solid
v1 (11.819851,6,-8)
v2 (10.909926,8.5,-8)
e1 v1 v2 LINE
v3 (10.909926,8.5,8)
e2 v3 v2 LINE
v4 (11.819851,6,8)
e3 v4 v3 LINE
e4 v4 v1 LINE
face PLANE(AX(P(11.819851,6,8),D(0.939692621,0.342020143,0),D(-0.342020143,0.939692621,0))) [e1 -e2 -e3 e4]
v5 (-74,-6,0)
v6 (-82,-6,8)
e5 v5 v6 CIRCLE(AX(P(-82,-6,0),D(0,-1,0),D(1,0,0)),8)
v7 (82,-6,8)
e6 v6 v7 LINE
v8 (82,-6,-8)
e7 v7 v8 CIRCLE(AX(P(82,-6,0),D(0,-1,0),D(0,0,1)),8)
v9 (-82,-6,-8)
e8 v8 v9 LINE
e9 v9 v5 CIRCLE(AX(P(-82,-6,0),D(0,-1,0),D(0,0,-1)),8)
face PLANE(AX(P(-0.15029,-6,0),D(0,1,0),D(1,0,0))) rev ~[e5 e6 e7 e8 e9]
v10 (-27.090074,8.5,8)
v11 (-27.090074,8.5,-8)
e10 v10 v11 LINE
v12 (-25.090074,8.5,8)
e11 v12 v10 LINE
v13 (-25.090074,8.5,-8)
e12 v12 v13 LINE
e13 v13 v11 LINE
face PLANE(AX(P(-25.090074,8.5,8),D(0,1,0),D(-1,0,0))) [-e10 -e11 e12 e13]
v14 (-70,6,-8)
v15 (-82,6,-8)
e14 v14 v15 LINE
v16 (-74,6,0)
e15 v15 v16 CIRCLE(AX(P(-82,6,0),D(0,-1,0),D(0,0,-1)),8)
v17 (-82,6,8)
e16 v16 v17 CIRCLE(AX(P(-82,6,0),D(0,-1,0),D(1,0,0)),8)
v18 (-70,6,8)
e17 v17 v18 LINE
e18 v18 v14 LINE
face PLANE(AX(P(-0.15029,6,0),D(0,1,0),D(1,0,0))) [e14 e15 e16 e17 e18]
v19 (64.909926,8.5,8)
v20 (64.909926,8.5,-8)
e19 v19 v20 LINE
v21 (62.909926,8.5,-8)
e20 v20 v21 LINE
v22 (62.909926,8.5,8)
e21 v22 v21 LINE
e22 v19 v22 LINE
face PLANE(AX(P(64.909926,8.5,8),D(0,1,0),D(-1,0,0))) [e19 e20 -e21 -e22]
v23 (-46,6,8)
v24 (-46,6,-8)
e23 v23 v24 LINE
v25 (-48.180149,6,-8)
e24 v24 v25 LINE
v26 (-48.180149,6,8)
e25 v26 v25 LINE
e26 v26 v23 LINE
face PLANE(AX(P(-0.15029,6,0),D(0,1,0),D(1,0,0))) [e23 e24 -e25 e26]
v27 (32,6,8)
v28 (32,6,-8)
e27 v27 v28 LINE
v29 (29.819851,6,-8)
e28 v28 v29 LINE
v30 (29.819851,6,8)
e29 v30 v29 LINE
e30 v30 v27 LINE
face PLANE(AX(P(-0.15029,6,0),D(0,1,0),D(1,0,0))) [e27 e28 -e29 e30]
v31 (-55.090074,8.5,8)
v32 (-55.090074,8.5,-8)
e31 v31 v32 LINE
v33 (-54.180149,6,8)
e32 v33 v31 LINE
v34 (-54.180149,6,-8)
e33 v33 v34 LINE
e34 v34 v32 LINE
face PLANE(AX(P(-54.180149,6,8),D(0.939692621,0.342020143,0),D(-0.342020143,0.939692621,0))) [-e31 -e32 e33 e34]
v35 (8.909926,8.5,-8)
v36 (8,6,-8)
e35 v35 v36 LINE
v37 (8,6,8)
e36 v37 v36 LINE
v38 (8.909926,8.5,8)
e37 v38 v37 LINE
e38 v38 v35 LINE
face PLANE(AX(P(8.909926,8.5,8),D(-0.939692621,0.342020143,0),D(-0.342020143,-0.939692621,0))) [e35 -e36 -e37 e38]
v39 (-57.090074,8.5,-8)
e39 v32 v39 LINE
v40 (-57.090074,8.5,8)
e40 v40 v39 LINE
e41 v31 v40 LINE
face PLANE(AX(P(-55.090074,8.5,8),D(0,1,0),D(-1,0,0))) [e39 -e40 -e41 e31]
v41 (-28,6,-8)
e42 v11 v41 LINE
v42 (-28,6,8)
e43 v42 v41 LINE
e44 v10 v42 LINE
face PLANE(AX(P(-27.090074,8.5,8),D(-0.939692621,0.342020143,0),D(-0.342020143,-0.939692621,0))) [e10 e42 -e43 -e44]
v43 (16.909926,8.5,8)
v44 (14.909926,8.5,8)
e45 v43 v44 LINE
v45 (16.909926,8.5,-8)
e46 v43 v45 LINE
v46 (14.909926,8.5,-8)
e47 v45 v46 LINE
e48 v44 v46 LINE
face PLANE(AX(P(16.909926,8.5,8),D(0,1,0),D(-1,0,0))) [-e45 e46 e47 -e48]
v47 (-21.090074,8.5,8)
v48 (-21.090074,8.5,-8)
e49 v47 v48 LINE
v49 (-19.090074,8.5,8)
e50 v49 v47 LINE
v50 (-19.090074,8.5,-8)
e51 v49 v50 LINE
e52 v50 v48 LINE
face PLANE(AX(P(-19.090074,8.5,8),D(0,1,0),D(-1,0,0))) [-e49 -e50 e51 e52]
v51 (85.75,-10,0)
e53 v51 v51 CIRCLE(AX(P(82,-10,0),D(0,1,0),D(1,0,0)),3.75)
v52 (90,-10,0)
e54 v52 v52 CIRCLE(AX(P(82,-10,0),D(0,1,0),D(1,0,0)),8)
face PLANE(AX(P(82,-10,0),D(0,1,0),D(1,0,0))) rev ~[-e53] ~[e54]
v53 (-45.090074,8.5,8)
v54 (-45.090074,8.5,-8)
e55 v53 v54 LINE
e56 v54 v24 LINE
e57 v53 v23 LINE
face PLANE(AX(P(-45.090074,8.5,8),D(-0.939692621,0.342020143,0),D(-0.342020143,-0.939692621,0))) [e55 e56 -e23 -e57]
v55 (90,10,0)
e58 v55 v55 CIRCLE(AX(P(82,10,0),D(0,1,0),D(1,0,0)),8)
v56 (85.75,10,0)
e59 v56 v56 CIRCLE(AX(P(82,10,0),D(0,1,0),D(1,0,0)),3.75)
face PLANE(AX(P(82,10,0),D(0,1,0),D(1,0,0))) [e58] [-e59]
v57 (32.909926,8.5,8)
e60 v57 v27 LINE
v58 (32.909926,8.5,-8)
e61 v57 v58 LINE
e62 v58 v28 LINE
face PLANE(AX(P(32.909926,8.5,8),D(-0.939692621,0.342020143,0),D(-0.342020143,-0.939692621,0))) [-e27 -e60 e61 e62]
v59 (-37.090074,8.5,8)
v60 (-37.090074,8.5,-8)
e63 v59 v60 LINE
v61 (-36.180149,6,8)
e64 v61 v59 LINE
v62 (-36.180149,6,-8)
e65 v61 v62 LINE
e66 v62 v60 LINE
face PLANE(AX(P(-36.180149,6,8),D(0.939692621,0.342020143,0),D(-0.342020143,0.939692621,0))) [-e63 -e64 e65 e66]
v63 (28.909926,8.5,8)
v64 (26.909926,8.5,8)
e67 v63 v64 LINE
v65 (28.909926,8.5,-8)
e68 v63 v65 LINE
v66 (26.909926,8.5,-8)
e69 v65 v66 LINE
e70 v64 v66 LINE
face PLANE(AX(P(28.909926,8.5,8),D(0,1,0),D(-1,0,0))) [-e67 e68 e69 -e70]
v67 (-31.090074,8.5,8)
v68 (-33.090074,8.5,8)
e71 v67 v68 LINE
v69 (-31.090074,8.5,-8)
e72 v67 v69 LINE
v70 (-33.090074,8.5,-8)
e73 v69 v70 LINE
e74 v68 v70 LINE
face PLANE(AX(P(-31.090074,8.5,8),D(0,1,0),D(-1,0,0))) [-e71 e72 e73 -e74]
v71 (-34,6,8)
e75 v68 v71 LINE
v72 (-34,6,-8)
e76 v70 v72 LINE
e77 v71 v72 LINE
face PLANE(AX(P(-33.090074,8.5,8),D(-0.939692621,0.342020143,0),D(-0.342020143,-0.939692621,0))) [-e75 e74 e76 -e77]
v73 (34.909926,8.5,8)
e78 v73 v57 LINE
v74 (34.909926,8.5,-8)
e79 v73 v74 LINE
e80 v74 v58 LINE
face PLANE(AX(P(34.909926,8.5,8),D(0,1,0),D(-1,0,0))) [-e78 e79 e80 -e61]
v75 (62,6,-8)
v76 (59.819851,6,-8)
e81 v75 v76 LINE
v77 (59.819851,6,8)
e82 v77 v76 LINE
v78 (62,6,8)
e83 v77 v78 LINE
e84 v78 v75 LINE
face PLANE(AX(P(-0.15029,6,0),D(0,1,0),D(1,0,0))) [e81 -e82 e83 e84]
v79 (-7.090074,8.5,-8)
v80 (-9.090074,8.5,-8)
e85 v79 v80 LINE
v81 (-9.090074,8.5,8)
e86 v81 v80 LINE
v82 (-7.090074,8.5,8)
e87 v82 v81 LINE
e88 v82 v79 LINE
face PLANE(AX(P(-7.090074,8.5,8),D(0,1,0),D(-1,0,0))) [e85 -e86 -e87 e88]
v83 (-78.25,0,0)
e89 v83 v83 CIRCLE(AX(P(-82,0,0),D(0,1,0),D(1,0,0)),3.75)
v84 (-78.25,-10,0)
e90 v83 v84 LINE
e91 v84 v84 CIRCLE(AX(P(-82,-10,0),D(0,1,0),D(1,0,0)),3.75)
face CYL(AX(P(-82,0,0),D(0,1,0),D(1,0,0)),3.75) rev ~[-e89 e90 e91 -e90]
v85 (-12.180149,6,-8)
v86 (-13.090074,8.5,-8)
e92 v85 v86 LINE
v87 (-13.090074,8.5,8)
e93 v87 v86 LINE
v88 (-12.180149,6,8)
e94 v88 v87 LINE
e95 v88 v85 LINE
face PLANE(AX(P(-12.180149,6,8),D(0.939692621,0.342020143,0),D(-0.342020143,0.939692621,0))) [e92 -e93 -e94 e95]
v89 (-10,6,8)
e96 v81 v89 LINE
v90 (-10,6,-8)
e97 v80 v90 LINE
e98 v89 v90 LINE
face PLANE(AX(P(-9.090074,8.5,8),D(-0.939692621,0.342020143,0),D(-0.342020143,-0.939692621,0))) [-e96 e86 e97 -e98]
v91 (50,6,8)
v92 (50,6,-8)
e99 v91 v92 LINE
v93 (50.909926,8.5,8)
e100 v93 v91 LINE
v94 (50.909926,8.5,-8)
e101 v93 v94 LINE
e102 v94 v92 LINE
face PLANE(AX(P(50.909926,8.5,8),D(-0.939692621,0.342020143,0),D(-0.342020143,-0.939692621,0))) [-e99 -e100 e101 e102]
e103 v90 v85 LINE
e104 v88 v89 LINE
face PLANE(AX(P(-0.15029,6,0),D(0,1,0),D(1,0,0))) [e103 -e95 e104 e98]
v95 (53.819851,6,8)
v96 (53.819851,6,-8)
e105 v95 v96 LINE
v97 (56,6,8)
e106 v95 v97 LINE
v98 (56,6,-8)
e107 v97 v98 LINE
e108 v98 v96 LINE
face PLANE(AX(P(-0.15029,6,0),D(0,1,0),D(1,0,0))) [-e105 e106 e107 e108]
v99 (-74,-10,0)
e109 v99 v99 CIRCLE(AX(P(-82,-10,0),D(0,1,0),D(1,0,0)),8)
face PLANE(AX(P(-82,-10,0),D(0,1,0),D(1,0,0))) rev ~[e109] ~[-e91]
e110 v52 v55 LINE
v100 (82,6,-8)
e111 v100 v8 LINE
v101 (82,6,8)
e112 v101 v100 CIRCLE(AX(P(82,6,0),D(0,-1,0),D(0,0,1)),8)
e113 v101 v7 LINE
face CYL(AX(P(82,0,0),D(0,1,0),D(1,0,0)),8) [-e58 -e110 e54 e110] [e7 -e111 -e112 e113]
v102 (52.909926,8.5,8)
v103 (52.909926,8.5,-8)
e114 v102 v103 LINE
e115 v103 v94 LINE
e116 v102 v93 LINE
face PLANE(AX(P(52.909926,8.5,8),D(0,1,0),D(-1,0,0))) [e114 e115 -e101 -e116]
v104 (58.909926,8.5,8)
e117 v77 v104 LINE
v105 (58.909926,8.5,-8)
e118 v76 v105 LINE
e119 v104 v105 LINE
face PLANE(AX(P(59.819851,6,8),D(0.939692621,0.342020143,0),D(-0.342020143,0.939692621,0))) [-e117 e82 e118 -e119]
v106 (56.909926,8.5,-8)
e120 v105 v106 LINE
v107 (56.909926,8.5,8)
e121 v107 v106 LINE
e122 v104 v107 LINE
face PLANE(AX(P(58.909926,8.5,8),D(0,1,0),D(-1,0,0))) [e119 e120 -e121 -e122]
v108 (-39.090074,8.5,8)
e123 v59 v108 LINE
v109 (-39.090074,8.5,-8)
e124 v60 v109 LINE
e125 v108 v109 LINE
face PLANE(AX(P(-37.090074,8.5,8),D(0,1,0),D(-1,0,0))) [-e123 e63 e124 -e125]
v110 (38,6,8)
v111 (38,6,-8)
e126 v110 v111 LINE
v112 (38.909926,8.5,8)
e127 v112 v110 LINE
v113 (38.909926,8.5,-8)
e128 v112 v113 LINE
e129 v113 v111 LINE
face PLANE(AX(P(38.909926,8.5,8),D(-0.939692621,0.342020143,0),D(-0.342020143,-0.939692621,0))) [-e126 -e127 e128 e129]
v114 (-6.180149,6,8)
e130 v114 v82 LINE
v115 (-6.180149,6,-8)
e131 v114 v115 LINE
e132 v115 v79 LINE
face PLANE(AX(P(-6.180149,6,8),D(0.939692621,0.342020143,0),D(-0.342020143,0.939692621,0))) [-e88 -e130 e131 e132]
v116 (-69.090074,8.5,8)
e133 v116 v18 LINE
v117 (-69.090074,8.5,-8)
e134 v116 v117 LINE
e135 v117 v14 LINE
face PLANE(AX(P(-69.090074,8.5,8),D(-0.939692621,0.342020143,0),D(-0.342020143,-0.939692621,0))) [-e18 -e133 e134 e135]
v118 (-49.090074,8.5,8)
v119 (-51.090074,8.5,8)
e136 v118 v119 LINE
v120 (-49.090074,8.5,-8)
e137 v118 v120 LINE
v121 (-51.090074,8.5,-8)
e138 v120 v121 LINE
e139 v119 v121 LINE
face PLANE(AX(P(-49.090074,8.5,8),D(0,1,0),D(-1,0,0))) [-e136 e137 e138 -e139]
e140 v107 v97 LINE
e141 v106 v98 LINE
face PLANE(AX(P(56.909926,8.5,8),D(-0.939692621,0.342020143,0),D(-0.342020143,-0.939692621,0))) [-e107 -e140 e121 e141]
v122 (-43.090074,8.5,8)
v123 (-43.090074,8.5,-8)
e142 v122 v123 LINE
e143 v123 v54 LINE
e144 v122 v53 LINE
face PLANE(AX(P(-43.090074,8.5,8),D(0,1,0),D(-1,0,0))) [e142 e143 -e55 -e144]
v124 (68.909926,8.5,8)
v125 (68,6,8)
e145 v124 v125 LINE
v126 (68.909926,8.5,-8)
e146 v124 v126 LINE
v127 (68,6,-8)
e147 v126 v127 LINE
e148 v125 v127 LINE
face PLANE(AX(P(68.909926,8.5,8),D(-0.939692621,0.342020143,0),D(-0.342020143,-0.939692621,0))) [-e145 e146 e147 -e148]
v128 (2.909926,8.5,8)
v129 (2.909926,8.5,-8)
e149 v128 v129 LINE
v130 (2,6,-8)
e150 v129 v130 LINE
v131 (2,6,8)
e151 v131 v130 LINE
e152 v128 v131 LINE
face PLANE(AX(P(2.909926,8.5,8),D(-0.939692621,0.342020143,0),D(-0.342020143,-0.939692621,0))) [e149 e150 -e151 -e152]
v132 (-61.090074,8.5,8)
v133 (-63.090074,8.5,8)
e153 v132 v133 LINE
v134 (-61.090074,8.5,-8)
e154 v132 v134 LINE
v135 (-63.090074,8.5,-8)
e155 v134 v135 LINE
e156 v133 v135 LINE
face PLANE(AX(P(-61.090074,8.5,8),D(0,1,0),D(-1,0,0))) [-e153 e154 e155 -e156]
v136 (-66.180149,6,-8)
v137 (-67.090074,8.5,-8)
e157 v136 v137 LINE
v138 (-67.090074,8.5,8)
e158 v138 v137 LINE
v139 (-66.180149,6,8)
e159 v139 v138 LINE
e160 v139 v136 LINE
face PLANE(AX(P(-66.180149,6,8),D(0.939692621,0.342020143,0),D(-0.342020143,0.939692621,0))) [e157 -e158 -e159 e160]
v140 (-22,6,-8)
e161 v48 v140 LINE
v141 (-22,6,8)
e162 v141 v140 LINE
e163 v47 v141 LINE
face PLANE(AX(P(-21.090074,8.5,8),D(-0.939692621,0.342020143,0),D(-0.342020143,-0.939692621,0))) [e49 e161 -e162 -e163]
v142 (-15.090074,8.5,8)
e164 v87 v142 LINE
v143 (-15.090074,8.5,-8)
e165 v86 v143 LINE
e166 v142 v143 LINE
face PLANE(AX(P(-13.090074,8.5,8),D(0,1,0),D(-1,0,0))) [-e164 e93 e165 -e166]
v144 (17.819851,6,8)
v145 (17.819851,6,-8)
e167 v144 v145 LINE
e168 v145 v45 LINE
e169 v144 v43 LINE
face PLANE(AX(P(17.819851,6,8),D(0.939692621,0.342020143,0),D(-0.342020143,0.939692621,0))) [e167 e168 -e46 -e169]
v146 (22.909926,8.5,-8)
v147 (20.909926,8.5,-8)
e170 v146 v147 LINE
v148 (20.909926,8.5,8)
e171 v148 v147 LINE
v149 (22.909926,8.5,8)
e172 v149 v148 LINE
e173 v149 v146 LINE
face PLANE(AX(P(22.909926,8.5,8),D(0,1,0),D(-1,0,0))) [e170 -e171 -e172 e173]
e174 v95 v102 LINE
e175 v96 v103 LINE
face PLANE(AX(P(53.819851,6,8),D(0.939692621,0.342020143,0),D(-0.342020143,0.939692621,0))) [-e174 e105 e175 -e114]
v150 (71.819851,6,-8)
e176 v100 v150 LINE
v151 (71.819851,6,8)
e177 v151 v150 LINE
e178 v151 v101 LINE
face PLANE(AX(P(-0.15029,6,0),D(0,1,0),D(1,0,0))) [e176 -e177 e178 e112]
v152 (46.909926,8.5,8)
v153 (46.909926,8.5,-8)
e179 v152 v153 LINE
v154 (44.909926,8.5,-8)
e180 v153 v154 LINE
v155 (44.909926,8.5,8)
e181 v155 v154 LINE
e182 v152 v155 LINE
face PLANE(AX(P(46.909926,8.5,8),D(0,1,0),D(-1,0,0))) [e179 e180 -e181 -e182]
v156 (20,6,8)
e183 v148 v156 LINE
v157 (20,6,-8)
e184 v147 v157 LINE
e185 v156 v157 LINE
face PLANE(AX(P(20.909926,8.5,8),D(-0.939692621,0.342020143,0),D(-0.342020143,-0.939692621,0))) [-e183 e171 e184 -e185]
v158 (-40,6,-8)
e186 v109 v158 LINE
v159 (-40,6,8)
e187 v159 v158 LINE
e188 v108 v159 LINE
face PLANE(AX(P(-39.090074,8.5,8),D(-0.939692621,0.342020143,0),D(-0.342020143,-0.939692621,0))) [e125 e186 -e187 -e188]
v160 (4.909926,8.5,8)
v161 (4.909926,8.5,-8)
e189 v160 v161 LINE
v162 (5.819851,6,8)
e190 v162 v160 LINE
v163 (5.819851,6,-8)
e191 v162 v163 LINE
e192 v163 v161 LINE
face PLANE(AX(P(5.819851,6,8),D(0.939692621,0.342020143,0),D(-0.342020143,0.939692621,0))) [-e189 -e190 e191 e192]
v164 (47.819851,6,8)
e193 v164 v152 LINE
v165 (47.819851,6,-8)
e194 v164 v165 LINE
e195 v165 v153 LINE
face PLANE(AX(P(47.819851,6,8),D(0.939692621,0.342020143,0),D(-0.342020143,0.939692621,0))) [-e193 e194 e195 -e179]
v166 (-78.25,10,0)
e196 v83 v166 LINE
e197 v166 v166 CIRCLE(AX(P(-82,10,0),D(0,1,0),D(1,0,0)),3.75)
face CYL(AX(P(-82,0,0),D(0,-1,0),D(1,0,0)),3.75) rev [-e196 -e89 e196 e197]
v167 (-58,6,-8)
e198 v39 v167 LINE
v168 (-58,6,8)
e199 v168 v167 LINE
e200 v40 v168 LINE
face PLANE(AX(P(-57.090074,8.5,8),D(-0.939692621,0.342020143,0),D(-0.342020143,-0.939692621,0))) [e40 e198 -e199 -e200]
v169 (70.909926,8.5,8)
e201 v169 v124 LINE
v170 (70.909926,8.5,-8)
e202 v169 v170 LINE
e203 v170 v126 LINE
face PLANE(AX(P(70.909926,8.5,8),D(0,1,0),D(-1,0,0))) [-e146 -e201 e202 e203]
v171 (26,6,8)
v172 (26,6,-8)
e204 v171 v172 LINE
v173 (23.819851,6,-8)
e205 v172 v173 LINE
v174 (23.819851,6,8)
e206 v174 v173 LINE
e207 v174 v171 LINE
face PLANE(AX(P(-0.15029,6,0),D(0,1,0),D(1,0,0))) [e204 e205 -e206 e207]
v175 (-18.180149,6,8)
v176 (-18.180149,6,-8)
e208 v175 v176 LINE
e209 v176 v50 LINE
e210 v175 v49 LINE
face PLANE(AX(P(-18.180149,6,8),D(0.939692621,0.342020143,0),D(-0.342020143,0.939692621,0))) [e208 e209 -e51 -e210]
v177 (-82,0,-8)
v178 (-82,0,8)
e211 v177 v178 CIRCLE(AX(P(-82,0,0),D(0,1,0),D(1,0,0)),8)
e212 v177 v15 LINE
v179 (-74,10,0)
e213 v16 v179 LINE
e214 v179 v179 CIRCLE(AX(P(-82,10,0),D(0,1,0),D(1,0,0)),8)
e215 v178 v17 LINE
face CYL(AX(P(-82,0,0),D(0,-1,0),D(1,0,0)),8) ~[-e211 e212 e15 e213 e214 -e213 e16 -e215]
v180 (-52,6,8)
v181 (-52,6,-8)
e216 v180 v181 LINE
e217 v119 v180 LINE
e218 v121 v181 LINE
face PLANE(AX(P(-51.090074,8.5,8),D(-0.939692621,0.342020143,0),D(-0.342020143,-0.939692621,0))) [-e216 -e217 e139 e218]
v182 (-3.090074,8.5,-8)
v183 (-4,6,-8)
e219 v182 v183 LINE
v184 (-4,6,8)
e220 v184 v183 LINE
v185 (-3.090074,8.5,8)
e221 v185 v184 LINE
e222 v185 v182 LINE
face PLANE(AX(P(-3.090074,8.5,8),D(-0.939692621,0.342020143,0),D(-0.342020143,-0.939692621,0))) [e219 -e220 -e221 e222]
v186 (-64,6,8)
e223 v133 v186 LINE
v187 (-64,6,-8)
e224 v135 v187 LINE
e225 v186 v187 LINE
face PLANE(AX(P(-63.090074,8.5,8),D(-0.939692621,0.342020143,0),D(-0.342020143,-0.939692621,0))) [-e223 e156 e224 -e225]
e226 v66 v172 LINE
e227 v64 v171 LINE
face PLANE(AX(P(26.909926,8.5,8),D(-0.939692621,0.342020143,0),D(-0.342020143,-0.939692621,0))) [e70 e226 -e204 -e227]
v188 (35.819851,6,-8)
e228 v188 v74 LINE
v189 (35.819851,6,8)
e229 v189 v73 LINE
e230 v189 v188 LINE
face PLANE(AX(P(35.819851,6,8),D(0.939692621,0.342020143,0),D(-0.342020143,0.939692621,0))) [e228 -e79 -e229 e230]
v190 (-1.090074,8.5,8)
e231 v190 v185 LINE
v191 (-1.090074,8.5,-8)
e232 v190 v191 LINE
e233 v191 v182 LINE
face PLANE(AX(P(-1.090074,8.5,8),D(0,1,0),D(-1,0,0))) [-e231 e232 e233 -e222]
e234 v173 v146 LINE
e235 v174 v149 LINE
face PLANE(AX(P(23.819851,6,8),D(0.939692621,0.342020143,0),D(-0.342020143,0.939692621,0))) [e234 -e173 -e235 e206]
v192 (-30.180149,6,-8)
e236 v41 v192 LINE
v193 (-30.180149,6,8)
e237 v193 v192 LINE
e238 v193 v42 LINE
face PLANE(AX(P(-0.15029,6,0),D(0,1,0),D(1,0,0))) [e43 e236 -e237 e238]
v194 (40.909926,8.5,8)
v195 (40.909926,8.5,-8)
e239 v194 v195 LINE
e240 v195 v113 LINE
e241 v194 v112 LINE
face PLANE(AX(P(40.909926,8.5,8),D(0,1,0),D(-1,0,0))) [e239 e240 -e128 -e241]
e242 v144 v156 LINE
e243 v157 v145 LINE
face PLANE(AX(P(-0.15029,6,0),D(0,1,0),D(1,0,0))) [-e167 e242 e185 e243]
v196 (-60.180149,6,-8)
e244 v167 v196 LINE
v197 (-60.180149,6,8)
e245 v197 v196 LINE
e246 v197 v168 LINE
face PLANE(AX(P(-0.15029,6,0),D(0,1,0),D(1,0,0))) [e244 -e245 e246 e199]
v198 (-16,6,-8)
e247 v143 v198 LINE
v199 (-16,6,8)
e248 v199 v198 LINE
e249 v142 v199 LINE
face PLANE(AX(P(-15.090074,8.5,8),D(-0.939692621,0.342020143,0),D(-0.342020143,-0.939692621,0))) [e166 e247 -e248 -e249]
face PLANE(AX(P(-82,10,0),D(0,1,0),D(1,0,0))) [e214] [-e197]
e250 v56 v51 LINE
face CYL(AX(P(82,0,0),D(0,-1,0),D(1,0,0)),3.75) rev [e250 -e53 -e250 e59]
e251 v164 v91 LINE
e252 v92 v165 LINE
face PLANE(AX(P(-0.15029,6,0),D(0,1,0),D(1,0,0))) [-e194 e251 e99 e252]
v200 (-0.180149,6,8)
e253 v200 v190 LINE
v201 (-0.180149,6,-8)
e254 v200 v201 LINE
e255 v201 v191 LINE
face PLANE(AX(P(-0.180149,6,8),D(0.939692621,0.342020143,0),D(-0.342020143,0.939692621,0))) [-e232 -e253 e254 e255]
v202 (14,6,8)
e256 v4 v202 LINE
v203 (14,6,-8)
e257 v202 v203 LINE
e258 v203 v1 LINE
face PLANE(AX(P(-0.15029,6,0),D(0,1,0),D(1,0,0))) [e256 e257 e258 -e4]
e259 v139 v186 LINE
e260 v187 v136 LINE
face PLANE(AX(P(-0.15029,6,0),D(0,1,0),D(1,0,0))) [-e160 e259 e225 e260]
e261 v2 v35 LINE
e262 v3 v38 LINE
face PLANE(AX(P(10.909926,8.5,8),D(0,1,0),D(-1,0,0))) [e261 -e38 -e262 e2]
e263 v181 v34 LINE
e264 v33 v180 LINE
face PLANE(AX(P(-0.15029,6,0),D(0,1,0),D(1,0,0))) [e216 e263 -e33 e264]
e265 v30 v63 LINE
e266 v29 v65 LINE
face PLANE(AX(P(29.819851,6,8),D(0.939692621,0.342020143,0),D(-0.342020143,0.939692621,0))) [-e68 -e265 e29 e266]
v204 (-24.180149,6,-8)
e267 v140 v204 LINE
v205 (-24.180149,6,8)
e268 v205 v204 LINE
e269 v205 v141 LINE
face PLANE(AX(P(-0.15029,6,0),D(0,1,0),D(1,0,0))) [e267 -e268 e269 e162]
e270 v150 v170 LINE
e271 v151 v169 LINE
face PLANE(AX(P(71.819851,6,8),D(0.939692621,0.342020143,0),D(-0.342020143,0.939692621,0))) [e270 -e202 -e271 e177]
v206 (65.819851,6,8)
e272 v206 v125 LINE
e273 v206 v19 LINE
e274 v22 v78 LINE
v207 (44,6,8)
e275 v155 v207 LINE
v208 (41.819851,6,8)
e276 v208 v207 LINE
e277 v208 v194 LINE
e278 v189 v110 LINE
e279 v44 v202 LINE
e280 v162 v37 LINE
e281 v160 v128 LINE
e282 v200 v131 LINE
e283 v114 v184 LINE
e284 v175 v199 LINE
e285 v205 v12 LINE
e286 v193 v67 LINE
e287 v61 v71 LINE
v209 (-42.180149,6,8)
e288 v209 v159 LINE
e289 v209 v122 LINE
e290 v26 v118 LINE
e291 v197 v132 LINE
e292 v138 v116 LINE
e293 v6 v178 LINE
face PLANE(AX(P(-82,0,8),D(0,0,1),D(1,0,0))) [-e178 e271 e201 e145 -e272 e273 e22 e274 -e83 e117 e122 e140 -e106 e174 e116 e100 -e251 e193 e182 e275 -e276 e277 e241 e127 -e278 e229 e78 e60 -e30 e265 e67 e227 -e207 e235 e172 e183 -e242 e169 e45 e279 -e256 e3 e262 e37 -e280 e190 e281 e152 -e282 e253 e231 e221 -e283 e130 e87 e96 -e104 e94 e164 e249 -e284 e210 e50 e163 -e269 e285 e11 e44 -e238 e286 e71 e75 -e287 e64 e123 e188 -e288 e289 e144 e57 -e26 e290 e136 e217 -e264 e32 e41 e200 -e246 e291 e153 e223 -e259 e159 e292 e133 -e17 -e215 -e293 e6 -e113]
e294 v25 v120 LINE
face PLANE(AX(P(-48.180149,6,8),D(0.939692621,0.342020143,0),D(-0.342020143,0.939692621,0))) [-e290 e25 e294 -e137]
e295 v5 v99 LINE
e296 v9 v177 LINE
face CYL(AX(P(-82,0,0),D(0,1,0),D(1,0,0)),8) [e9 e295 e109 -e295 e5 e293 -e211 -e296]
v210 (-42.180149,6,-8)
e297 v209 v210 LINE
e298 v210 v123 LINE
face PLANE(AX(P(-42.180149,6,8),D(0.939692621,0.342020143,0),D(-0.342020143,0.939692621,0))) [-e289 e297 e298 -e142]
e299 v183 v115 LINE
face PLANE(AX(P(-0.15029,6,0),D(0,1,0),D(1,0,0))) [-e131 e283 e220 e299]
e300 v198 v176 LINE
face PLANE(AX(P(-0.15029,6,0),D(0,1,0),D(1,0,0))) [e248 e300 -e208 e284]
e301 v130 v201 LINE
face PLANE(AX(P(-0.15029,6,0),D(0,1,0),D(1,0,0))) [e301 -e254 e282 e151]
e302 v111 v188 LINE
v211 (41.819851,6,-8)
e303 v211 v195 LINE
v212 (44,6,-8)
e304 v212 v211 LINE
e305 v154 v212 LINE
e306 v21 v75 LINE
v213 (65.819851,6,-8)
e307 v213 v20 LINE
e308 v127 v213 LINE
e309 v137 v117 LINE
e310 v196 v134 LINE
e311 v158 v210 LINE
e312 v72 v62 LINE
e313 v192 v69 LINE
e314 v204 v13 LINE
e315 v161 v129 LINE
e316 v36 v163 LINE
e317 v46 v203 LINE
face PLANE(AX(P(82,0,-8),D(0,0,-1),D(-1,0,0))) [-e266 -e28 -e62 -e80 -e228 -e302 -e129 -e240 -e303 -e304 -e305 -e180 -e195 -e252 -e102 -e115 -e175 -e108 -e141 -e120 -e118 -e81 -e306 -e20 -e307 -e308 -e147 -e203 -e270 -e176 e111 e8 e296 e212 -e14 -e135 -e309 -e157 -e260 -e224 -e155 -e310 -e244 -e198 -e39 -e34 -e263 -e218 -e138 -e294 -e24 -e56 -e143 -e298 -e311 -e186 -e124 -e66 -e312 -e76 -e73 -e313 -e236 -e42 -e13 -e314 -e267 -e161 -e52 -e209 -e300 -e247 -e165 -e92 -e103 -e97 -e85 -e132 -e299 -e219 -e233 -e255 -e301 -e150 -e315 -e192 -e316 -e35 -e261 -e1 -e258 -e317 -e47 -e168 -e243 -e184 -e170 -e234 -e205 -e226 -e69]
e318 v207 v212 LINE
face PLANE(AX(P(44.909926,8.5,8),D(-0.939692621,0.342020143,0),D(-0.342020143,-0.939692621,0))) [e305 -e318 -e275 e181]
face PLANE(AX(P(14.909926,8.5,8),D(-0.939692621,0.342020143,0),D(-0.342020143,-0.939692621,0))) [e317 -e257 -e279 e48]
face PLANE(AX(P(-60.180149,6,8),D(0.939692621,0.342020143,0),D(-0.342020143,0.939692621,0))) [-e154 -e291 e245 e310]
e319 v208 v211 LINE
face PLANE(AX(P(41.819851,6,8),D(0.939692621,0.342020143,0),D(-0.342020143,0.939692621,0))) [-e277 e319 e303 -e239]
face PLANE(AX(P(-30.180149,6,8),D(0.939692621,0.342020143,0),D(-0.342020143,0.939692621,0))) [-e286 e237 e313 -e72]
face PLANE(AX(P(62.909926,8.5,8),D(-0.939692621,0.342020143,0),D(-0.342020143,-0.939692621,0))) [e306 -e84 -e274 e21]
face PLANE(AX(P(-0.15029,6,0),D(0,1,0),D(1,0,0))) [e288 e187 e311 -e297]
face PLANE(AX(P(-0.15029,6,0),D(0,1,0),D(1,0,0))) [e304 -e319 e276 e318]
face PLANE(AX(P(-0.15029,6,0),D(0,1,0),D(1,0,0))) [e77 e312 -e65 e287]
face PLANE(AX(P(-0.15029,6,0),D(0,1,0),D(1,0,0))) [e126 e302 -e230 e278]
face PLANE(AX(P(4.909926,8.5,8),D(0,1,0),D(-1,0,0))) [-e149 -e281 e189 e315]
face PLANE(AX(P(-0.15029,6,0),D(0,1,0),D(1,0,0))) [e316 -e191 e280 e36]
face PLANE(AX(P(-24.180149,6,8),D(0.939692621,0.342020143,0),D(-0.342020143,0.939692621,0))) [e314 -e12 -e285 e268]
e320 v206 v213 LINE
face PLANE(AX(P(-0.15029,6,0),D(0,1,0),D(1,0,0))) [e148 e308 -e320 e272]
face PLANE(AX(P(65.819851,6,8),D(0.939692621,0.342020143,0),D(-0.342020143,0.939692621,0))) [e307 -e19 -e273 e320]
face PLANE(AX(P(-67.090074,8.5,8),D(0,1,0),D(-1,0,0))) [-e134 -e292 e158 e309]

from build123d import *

# Parameters (mm, degrees)
BOSS_EXTRUDE1_DEPTH = 6
SKETCH1_3_R         = 8
SKETCH1_3_R_2       = 3.75
BOSS_EXTRUDE2_DEPTH = 10
BOSS_EXTRUDE3_DEPTH = 16


with BuildPart() as part:
    # Sketch1 → Boss-Extrude1 (new, symmetric)
    with BuildSketch(Plane(origin=(0, 0, 0), x_dir=(1, 0, 0), z_dir=(0, 1, 0))):
        with BuildLine():
            Line((82, 8), (-82, 8))
            ThreePointArc((-82, 8), (-76.343145751, 5.656854249), (-74, 0))
            ThreePointArc((-74, 0), (-76.343145751, -5.656854249), (-82, -8))
            Line((-82, -8), (82, -8))
            ThreePointArc((82, -8), (74, 0), (82, 8))
        make_face()
    extrude(amount=BOSS_EXTRUDE1_DEPTH, both=True)

    # Sketch1<3> → Boss-Extrude2 (add, symmetric)
    # profile 1 of 2: a face of its own
    with BuildSketch(Plane(origin=(0, 0, 0), x_dir=(1, 0, 0), z_dir=(0, 1, 0))):
        with Locations((-82, 0)):
            Circle(SKETCH1_3_R)
        with Locations((-82, 0)):
            Circle(SKETCH1_3_R_2, mode=Mode.SUBTRACT)
    # profile 2 of 2: a face of its own
    with BuildSketch(Plane(origin=(0, 0, 0), x_dir=(1, 0, 0), z_dir=(0, 1, 0))):
        with Locations((82, 0)):
            Circle(SKETCH1_3_R)
        with Locations((82, 0)):
            Circle(SKETCH1_3_R_2, mode=Mode.SUBTRACT)
    extrude(amount=BOSS_EXTRUDE2_DEPTH, both=True)

    # Sketch2 → Boss-Extrude3 (add)
    with BuildSketch(Plane.XY.offset(8)):
        Polygon((71.819851171, 6), (70.909925586, 8.5), (68.909925586, 8.5), (68, 6), align=None)
        Polygon((65.819851171, 6), (64.909925586, 8.5), (62.909925586, 8.5), (62, 6), align=None)
        Polygon((59.819851171, 6), (58.909925586, 8.5), (56.909925586, 8.5), (56, 6), align=None)
        Polygon((53.819851171, 6), (52.909925586, 8.5), (50.909925586, 8.5), (50, 6), align=None)
        Polygon((47.819851171, 6), (46.909925586, 8.5), (44.909925586, 8.5), (44, 6), align=None)
        Polygon((41.819851171, 6), (40.909925586, 8.5), (38.909925586, 8.5), (38, 6), align=None)
        Polygon((35.819851171, 6), (34.909925586, 8.5), (32.909925586, 8.5), (32, 6), align=None)
        Polygon((29.819851171, 6), (28.909925586, 8.5), (26.909925586, 8.5), (26, 6), align=None)
        Polygon((23.819851171, 6), (22.909925586, 8.5), (20.909925586, 8.5), (20, 6), align=None)
        Polygon((17.819851171, 6), (16.909925586, 8.5), (14.909925586, 8.5), (14, 6), align=None)
        Polygon((11.819851171, 6), (10.909925586, 8.5), (8.909925586, 8.5), (8, 6), align=None)
        Polygon((5.819851171, 6), (4.909925586, 8.5), (2.909925586, 8.5), (2, 6), align=None)
        Polygon((-0.180148829, 6), (-1.090074414, 8.5), (-3.090074414, 8.5), (-4, 6), align=None)
        Polygon((-6.180148829, 6), (-7.090074414, 8.5), (-9.090074414, 8.5), (-10, 6), align=None)
        Polygon((-12.180148829, 6), (-13.090074414, 8.5), (-15.090074414, 8.5), (-16, 6), align=None)
        Polygon((-18.180148829, 6), (-19.090074414, 8.5), (-21.090074414, 8.5), (-22, 6), align=None)
        Polygon((-24.180148829, 6), (-25.090074414, 8.5), (-27.090074414, 8.5), (-28, 6), align=None)
        Polygon((-30.180148829, 6), (-31.090074414, 8.5), (-33.090074414, 8.5), (-34, 6), align=None)
        Polygon((-36.180148829, 6), (-37.090074414, 8.5), (-39.090074414, 8.5), (-40, 6), align=None)
        Polygon((-42.180148829, 6), (-43.090074414, 8.5), (-45.090074414, 8.5), (-46, 6), align=None)
        Polygon((-48.180148829, 6), (-49.090074414, 8.5), (-51.090074414, 8.5), (-52, 6), align=None)
        Polygon((-54.180148829, 6), (-55.090074414, 8.5), (-57.090074414, 8.5), (-58, 6), align=None)
        Polygon((-60.180148829, 6), (-61.090074414, 8.5), (-63.090074414, 8.5), (-64, 6), align=None)
        Polygon((-66.180148829, 6), (-67.090074414, 8.5), (-69.090074414, 8.5), (-70, 6), align=None)
    extrude(amount=-BOSS_EXTRUDE3_DEPTH)


solid = part.part
